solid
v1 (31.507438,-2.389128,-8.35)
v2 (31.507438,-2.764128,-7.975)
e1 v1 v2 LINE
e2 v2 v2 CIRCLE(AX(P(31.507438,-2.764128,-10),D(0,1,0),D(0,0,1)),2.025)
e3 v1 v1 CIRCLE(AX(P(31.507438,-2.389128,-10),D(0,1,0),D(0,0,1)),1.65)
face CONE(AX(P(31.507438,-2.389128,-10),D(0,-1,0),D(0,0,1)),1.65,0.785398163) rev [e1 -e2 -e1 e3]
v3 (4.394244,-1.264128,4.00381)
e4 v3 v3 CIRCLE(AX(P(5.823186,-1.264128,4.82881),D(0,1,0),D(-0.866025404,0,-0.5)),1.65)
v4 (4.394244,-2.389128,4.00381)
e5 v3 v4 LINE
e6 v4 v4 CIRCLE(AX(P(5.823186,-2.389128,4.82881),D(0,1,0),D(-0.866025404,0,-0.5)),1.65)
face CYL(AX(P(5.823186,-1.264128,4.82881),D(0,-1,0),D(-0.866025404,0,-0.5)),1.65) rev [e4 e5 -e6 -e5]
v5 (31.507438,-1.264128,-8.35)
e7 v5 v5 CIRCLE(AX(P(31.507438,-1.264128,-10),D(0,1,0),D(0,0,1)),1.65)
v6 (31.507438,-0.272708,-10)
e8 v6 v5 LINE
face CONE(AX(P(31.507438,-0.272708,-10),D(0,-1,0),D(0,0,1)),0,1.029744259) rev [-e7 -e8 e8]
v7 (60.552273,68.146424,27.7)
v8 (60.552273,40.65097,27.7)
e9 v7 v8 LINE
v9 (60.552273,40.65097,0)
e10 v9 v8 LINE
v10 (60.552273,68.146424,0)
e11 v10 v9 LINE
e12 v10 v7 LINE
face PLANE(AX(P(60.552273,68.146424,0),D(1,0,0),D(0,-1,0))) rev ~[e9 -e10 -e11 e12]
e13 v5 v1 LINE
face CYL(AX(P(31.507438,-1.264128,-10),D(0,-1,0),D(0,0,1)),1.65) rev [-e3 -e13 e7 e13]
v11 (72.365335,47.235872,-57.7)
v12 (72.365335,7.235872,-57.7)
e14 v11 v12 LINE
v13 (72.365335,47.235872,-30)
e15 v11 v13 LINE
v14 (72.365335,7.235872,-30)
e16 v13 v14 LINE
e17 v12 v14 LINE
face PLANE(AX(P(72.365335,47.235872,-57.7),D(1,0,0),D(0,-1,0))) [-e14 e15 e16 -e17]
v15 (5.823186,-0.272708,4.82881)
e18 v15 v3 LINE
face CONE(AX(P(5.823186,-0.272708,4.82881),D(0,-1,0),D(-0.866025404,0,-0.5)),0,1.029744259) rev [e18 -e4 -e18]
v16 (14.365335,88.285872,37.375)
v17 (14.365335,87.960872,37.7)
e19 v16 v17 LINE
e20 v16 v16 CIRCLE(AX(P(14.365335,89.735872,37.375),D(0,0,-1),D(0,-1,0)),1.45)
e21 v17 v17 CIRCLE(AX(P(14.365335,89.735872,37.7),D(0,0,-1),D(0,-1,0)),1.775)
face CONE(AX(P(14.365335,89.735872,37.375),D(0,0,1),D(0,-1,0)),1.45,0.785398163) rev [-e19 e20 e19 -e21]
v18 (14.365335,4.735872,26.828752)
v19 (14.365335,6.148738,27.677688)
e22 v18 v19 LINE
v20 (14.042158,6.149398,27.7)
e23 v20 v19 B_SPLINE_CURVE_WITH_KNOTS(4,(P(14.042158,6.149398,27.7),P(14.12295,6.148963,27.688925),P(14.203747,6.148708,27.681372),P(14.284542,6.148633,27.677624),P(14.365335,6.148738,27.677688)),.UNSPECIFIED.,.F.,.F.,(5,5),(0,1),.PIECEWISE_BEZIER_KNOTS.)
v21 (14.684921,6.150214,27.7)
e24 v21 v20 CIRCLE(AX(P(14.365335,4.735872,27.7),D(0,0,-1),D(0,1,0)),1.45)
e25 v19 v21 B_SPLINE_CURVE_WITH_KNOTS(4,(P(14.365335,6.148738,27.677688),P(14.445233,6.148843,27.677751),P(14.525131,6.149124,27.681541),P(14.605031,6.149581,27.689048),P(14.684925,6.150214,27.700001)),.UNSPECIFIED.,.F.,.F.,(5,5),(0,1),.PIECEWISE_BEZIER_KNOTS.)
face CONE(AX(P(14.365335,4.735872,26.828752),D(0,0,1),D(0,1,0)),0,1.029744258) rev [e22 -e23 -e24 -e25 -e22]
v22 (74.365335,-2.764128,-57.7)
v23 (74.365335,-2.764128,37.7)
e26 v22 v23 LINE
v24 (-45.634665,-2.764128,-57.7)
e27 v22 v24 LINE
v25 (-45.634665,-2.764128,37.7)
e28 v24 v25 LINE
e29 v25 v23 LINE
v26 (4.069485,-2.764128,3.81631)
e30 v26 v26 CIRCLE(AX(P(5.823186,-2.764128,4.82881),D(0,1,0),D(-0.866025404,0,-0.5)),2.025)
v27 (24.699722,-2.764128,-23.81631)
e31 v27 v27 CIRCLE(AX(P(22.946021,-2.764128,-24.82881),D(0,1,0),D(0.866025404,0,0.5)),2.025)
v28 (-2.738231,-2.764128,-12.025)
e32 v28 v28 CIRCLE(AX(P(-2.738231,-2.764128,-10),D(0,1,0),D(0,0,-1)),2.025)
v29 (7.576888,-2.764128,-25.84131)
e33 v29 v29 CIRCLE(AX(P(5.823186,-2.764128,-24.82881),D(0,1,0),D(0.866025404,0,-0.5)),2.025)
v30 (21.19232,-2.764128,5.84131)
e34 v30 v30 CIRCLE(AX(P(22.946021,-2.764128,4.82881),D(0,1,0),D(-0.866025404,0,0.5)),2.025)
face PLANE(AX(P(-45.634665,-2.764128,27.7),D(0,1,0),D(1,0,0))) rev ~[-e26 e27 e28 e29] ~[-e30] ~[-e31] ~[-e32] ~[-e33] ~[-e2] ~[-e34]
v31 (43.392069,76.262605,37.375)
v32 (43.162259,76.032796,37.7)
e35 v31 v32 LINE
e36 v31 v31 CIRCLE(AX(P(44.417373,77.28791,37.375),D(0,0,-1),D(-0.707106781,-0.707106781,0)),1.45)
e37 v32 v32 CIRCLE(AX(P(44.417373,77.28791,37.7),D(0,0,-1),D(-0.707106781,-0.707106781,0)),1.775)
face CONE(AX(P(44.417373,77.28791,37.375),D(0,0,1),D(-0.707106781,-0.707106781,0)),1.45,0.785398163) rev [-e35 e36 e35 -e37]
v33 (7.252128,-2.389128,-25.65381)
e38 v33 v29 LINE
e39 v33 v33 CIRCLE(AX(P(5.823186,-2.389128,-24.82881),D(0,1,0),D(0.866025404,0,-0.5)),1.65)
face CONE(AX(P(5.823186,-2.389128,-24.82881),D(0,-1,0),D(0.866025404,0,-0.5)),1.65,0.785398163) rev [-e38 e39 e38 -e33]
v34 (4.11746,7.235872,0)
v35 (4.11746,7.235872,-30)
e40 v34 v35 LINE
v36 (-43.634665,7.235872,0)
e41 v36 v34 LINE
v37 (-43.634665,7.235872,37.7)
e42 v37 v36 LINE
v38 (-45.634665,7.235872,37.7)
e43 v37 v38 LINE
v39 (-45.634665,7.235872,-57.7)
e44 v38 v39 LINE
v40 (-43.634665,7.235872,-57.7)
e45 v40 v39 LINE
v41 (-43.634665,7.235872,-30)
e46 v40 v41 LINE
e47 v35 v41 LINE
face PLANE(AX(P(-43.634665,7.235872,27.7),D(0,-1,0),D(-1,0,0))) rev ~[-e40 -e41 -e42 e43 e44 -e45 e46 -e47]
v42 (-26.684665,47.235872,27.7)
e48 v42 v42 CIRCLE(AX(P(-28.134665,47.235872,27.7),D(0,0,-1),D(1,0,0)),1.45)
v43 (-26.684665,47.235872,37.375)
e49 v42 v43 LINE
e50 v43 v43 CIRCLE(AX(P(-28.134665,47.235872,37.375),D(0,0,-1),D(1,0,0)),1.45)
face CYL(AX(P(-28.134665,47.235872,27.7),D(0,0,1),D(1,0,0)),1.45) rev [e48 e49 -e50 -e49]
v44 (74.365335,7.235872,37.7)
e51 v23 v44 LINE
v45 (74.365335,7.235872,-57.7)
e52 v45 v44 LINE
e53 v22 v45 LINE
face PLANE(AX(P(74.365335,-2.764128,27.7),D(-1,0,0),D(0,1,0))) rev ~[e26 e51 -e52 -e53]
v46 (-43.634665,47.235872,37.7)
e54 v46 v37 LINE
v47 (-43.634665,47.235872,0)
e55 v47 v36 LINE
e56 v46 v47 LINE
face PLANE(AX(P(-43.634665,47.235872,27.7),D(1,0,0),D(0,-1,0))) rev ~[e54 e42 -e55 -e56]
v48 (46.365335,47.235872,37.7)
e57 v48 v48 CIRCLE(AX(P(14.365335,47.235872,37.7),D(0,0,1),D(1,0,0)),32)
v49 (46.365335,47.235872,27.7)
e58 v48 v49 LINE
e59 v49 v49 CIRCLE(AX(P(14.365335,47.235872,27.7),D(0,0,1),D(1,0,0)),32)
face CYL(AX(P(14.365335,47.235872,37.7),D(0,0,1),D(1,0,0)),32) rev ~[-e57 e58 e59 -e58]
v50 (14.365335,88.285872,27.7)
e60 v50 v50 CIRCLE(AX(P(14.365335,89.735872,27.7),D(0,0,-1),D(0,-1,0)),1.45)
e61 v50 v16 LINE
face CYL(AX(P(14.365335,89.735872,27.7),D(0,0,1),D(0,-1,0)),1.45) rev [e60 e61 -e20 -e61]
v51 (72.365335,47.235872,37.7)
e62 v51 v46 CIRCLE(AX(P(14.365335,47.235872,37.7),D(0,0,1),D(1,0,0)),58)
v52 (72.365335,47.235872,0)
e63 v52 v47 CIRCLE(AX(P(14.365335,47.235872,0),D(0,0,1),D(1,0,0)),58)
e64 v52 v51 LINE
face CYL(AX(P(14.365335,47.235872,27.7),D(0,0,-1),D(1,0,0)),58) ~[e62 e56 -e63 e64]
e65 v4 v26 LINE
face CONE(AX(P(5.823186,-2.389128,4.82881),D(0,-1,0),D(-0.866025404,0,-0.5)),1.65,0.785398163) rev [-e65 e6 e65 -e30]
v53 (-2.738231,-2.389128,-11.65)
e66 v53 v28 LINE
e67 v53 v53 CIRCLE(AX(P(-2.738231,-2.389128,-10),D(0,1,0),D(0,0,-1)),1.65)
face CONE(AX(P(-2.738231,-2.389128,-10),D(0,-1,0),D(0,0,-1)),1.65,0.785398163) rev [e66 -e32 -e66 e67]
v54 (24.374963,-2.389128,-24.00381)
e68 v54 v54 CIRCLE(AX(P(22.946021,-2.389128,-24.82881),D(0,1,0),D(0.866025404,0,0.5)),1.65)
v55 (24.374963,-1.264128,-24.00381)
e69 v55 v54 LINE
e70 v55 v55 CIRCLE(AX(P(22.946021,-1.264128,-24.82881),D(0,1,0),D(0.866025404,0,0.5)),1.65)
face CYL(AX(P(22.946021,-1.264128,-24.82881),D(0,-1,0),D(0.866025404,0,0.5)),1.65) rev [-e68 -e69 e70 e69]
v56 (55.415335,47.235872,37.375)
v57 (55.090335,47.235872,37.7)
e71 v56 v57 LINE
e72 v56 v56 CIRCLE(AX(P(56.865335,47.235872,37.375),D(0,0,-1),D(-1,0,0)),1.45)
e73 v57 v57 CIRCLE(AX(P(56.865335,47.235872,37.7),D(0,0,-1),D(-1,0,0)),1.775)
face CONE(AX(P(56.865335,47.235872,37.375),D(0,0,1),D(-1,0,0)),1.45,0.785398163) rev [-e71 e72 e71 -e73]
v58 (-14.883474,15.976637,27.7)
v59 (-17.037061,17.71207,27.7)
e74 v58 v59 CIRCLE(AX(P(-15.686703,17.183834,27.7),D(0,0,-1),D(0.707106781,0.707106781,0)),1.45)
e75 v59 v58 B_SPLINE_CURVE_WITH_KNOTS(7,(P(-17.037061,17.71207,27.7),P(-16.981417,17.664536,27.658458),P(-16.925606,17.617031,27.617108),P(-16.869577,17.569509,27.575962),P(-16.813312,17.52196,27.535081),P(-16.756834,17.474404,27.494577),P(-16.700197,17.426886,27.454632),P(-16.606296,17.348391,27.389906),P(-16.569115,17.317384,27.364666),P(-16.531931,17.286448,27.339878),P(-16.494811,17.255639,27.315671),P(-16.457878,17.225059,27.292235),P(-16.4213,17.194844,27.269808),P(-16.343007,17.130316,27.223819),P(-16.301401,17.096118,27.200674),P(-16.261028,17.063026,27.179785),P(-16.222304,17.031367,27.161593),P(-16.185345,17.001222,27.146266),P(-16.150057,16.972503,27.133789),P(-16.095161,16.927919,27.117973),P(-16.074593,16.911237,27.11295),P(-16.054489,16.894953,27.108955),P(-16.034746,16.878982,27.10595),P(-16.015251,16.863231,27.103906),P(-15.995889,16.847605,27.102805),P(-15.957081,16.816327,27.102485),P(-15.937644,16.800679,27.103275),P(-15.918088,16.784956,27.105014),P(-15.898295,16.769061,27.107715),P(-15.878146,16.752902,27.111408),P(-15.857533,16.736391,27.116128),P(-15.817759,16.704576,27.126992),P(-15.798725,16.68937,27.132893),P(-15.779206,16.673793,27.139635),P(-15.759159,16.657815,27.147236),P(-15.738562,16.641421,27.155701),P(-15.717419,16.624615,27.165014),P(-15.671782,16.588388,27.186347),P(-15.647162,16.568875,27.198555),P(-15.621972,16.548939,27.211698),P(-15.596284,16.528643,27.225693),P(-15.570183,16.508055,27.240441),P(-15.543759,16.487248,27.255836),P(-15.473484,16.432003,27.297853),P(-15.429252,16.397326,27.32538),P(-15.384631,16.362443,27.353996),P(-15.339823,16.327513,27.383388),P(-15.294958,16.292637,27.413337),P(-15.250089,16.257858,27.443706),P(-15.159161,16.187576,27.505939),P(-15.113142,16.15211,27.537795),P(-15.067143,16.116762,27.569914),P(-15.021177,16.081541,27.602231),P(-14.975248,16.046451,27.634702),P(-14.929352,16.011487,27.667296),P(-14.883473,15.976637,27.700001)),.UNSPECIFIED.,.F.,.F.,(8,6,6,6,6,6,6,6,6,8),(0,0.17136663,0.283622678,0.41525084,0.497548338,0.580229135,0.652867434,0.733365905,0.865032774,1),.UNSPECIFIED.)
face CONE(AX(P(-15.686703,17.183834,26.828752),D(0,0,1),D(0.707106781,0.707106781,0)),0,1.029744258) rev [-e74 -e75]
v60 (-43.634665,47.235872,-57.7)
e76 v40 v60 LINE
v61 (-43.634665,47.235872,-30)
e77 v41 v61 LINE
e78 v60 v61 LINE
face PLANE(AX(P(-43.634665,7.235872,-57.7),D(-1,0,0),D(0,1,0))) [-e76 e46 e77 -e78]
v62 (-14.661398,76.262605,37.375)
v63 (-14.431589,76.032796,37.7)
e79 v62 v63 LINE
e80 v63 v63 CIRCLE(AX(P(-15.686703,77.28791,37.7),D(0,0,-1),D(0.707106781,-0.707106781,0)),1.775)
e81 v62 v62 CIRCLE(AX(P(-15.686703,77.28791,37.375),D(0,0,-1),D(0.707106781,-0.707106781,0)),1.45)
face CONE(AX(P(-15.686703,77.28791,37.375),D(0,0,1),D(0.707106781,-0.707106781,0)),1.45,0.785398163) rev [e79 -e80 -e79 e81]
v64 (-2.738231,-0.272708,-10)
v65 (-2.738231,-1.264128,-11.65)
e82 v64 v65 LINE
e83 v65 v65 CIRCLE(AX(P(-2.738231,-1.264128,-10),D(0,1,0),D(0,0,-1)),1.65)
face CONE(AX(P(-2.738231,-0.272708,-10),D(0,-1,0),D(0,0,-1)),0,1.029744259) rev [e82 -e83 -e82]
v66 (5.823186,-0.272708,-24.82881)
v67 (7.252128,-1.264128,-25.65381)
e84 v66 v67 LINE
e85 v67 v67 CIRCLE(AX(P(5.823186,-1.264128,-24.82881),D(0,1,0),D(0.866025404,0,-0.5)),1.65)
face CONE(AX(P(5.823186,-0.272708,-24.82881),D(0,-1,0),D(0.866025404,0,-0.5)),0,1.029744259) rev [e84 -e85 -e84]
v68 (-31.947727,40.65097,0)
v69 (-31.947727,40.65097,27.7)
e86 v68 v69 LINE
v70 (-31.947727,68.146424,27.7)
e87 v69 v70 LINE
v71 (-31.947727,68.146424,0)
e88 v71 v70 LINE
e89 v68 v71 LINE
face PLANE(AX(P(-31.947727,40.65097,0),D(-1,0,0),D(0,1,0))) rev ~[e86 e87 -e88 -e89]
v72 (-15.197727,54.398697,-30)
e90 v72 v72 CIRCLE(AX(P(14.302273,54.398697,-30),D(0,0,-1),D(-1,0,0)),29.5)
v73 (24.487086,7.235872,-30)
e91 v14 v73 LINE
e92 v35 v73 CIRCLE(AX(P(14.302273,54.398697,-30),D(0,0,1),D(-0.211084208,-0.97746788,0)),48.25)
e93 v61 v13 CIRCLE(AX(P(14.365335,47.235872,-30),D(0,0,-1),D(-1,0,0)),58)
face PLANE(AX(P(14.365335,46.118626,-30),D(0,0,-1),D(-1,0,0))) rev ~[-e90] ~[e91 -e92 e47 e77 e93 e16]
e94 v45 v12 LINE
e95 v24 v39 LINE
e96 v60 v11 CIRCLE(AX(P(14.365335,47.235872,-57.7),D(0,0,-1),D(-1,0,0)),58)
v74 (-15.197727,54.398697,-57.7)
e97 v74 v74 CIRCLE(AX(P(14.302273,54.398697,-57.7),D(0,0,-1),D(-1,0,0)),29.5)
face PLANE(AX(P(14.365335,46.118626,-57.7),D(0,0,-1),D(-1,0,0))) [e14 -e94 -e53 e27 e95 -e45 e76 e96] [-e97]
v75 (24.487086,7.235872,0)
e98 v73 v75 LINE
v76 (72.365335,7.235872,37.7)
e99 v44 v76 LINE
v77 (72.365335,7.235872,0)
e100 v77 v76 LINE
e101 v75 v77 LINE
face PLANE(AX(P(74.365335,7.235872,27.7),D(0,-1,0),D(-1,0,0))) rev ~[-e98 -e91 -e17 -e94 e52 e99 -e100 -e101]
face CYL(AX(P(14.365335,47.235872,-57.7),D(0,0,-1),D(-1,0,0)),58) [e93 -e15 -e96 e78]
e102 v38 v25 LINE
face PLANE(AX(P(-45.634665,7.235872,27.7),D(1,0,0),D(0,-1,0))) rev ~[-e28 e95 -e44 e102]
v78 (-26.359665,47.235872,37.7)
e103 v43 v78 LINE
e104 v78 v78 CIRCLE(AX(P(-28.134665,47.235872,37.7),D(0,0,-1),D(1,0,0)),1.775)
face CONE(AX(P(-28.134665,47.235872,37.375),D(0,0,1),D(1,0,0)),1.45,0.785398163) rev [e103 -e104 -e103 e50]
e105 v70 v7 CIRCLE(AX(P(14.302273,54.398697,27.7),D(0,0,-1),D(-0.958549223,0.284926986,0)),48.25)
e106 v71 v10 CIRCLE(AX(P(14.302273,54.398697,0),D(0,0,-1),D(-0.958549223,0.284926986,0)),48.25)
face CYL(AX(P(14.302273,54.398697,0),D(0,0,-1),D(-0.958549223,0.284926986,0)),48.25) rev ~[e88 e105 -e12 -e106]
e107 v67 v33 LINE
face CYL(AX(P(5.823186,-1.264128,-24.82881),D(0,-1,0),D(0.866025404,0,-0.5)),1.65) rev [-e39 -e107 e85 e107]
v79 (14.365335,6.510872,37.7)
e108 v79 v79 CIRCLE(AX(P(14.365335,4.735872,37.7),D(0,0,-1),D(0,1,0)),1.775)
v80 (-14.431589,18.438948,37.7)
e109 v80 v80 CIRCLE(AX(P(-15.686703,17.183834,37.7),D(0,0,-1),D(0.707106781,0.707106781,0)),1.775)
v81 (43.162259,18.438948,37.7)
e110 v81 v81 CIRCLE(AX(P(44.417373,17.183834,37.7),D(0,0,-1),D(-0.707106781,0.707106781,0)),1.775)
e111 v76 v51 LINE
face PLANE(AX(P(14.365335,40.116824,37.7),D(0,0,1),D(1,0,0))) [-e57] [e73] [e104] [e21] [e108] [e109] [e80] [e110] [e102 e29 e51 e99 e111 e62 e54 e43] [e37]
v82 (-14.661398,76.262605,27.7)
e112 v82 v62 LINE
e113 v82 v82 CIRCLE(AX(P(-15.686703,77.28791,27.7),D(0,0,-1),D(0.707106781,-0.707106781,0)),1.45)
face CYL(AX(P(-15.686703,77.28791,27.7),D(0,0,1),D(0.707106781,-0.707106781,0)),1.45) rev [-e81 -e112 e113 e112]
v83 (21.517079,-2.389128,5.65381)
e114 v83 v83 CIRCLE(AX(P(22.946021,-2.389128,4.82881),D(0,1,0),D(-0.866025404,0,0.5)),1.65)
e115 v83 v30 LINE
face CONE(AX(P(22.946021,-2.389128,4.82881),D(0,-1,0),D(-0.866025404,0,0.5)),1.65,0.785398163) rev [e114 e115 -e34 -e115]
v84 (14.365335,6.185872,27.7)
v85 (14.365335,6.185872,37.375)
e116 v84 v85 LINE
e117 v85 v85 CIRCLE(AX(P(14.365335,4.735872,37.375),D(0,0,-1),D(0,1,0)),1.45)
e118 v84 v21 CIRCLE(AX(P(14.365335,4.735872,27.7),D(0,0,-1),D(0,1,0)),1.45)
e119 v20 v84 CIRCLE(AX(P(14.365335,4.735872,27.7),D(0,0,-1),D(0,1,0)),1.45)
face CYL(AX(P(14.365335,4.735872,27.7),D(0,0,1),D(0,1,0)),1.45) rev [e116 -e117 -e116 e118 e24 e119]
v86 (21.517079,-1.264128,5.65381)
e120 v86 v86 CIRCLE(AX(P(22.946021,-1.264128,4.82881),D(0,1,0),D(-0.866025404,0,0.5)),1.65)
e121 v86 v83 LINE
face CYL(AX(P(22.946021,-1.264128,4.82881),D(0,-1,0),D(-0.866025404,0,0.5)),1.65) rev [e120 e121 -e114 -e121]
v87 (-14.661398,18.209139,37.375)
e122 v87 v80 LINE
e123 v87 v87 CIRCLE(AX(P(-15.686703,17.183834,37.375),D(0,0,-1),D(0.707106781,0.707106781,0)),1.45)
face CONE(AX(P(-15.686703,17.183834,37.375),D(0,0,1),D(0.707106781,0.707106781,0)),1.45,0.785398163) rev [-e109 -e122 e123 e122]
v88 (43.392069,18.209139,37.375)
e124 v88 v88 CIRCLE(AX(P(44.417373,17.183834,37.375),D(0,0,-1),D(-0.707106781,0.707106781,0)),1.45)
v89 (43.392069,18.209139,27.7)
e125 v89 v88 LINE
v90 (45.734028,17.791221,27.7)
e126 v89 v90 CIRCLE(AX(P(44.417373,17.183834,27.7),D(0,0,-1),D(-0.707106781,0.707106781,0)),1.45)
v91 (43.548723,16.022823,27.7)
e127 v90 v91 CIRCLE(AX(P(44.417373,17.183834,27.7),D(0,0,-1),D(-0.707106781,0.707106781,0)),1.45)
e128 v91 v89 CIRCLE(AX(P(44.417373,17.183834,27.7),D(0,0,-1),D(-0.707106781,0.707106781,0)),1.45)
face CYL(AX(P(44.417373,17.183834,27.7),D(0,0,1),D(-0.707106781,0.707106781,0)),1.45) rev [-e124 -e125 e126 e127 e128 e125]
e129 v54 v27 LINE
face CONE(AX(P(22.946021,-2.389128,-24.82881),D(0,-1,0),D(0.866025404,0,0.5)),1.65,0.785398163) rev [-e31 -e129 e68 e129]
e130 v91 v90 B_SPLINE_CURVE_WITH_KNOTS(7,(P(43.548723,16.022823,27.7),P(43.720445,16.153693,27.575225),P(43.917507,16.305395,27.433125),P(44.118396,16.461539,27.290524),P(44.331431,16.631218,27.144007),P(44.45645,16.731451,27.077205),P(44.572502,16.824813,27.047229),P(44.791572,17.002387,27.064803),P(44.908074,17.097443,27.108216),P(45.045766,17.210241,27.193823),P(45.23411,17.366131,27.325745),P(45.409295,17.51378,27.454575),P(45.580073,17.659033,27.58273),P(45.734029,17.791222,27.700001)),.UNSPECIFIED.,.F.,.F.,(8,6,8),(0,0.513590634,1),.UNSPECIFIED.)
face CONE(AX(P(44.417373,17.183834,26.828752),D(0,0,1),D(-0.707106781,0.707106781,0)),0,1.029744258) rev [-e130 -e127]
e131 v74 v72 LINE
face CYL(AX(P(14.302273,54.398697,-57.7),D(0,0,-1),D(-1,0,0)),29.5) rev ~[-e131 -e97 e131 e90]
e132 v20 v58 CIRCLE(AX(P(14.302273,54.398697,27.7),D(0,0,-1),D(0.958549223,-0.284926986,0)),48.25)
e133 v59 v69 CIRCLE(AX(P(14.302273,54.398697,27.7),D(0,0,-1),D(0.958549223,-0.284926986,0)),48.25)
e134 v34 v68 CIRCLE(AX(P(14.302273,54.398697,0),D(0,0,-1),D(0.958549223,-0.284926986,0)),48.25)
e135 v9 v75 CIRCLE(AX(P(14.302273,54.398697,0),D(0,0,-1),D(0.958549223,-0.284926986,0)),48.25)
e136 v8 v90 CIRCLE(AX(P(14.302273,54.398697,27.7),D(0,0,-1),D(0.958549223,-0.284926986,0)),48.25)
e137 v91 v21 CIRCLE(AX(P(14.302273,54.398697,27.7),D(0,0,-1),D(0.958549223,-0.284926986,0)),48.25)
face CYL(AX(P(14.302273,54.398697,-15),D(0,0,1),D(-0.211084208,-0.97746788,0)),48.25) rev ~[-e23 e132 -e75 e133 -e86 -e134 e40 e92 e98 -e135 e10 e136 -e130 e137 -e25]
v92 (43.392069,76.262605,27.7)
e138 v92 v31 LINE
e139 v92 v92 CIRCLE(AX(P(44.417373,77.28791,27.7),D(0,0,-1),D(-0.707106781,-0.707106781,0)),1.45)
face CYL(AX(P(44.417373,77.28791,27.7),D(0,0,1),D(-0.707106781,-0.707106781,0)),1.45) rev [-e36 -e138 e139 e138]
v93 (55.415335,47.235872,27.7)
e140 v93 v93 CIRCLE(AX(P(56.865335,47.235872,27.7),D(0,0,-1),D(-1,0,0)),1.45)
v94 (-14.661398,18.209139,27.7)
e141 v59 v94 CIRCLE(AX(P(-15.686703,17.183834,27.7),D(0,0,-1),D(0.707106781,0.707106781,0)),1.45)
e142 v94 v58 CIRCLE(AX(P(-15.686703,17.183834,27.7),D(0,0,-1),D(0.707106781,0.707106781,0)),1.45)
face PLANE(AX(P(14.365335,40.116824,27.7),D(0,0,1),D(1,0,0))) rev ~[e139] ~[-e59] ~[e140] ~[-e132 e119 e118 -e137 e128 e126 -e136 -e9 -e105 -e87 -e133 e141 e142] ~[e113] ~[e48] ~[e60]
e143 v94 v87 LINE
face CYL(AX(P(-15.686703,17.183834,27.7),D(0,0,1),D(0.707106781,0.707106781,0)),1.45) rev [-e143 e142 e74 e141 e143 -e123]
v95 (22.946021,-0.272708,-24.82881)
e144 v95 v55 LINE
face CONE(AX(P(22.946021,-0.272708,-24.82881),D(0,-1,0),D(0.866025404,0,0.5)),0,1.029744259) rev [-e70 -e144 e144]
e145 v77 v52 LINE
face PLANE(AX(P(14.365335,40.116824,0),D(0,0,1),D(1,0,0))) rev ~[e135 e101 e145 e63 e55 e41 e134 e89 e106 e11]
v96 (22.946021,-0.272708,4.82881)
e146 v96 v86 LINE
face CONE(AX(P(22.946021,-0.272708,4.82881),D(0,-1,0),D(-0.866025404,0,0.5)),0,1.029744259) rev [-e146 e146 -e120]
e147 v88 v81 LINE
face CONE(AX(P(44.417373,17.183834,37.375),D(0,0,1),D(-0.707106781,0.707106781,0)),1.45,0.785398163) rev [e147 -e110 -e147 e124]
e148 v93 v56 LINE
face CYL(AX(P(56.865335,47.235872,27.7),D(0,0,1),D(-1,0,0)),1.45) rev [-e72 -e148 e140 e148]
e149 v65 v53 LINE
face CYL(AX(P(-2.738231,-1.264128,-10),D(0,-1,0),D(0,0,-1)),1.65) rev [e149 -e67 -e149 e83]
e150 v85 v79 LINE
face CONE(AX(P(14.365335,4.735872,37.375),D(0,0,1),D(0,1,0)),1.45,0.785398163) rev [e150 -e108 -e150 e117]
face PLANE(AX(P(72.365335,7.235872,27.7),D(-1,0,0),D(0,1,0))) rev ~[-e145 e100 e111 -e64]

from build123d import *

# Parameters (mm, degrees)
EXTRUDE_9_DEPTH          = 27.7
EXTRUDE_START            = 15
EXTRUDE_10_DEPTH         = 15
SKETCH_9_W               = 120
SKETCH_9_H               = 10
EXTRUDE_11_DEPTH         = 27.7
SKETCH_10_R              = 29.5
EXTRUDE_14_DEPTH         = 27.7
EXTRUDE_15_DEPTH         = 10
SKETCH_12_R              = 32
CUT_EXTRUDE_1_DEPTH      = 10
PATTERN_CIRCULAR_1_COUNT = 8
PATTERN_CIRCULAR_2_COUNT = 6


with BuildPart() as part:
    # 草图1 → 凸台-拉伸9 (new body)
    with BuildSketch(Plane.XY):
        with BuildLine():
            Line((-45.634664851, -2.764128119), (74.365335149, -2.764128119))
            Line((74.365335149, -2.764128119), (74.365335149, 7.235871881))
            Line((74.365335149, 7.235871881), (72.365335149, 7.235871881))
            Line((72.365335149, 7.235871881), (72.365335149, 47.235871881))
            ThreePointArc((72.365335149, 47.235871881), (14.365335149, 105.235871881), (-43.634664851, 47.235871881))
            Line((-43.634664851, 47.235871881), (-43.634664851, 7.235871881))
            Line((-43.634664851, 7.235871881), (-45.634664851, 7.235871881))
            Line((-45.634664851, 7.235871881), (-45.634664851, -2.764128119))
        make_face()
        with BuildLine():
            Line((-31.9477266, 40.650970024), (-31.9477266, 68.146424194))
            ThreePointArc((-31.9477266, 68.146424194), (14.3022734, 102.648697109), (60.5522734, 68.146424194))
            Line((60.5522734, 68.146424194), (60.5522734, 40.650970024))
            ThreePointArc((60.5522734, 40.650970024), (14.3022734, 6.148697109), (-31.9477266, 40.650970024))
        make_face(mode=Mode.SUBTRACT)
    extrude(amount=EXTRUDE_9_DEPTH)

    # 草图8 → 凸台-拉伸10 (add)
    with BuildSketch(Plane(origin=(0, 0, 0), x_dir=(-1, 0, 0), z_dir=(0, 0, -1)).offset(EXTRUDE_START)):
        with BuildLine():
            Line((-74.365335149, -2.764128119), (45.634664851, -2.764128119))
            Line((45.634664851, -2.764128119), (45.634664851, 7.235871881))
            Line((45.634664851, 7.235871881), (-4.117460368, 7.235871881))
            ThreePointArc((-4.117460368, 7.235871881), (-14.3022734, 6.148697109), (-24.487086433, 7.235871881))
            Line((-24.487086433, 7.235871881), (-74.365335149, 7.235871881))
            Line((-74.365335149, 7.235871881), (-74.365335149, -2.764128119))
        make_face()
    extrude_10 = extrude(amount=-EXTRUDE_10_DEPTH)

    # 镜向4: 凸台-拉伸10 across plane
    add(extrude_10.mirror(Plane(origin=(0, 0, -15), x_dir=(1, 0, 0), z_dir=(0, 0, -1))))

    # 草图9 → 凸台-拉伸11 (add)
    with BuildSketch(Plane(origin=(0, 0, -30), x_dir=(-1, 0, 0), z_dir=(0, 0, -1))):
        with Locations((-14.365335149, 2.235871881)):
            Rectangle(SKETCH_9_W, SKETCH_9_H)
    extrude(amount=EXTRUDE_11_DEPTH)

    # 草图10 → 凸台-拉伸14 (add)
    with BuildSketch(Plane(origin=(0, 0, -57.7), x_dir=(-1, 0, 0), z_dir=(0, 0, -1))):
        with BuildLine():
            Line((-72.365335149, 47.235871881), (-72.365335149, 7.235871881))
            Line((-72.365335149, 7.235871881), (43.634664851, 7.235871881))
            Line((43.634664851, 7.235871881), (43.634664851, 47.235871881))
            ThreePointArc((43.634664851, 47.235871881), (-14.365335149, 105.235871881), (-72.365335149, 47.235871881))
        make_face()
        with Locations((-14.3022734, 54.398697109)):
            Circle(SKETCH_10_R, mode=Mode.SUBTRACT)
    extrude(amount=-EXTRUDE_14_DEPTH)

    # 草图11 → 凸台-拉伸15 (add)
    with BuildSketch(Plane.XY.offset(27.7)):
        with BuildLine():
            Line((-45.634664851, 7.235871881), (-45.634664851, -2.764128119))
            Line((-45.634664851, -2.764128119), (74.365335149, -2.764128119))
            Line((74.365335149, -2.764128119), (74.365335149, 7.235871881))
            Line((74.365335149, 7.235871881), (72.365335149, 7.235871881))
            Line((72.365335149, 7.235871881), (72.365335149, 47.235871881))
            ThreePointArc((72.365335149, 47.235871881), (14.365335149, 105.235871881), (-43.634664851, 47.235871881))
            Line((-43.634664851, 47.235871881), (-43.634664851, 7.235871881))
            Line((-43.634664851, 7.235871881), (-45.634664851, 7.235871881))
        make_face()
    extrude(amount=EXTRUDE_15_DEPTH)

    # 草图12 → 切除-拉伸1 (cut)
    with BuildSketch(Plane.XY.offset(37.7)):
        with Locations((14.365335149, 47.235871881)):
            Circle(SKETCH_12_R)
    extrude(amount=-CUT_EXTRUDE_1_DEPTH, mode=Mode.SUBTRACT)

    # 草图22 → M3.5 螺纹孔5 (revolve, cut)
    with BuildSketch(Plane(origin=(14.365335149, 89.735871881, 37.7), x_dir=(0, -1, 0), z_dir=(1, 0, 0))):
        Polygon((0, 0), (0, 10.871247898), (1.45, 10), (1.45, 0.325), (1.775, 0), align=None)
    hole_wizard_m3_5_5 = revolve(axis=Axis((14.365335149, 89.735871881, 44.05), (0, 0, -1)), mode=Mode.SUBTRACT)

    # 阵列(圆周)1: M3.5 螺纹孔5 ×8 about axis
    pattern_circular_1_axis = Axis((14.365335149, 47.235871881, 0), (0, 0, 1))
    for i in range(1, PATTERN_CIRCULAR_1_COUNT):
        add(hole_wizard_m3_5_5.rotate(pattern_circular_1_axis, i * 360 / PATTERN_CIRCULAR_1_COUNT), mode=Mode.SUBTRACT)

    # 草图25 → M4 螺纹孔1 (revolve, cut)
    with BuildSketch(Plane(origin=(-2.738231277, -2.764128119, -10), x_dir=(0, 0, -1), z_dir=(1, 0, 0))):
        Polygon((0, 0), (0, 2.491420021), (1.65, 1.5), (1.65, 0.375), (2.025, 0), align=None)
    hole_wizard_m4_1 = revolve(axis=Axis((-2.738231277, -9.114128119, -10), (0, 1, 0)), mode=Mode.SUBTRACT)

    # 阵列(圆周)2: M4 螺纹孔1 ×6 about axis
    pattern_circular_2_axis = Axis((14.384603563, 0, -10), (0, 1, 0))
    for i in range(1, PATTERN_CIRCULAR_2_COUNT):
        add(hole_wizard_m4_1.rotate(pattern_circular_2_axis, i * 360 / PATTERN_CIRCULAR_2_COUNT), mode=Mode.SUBTRACT)


solid = part.part
